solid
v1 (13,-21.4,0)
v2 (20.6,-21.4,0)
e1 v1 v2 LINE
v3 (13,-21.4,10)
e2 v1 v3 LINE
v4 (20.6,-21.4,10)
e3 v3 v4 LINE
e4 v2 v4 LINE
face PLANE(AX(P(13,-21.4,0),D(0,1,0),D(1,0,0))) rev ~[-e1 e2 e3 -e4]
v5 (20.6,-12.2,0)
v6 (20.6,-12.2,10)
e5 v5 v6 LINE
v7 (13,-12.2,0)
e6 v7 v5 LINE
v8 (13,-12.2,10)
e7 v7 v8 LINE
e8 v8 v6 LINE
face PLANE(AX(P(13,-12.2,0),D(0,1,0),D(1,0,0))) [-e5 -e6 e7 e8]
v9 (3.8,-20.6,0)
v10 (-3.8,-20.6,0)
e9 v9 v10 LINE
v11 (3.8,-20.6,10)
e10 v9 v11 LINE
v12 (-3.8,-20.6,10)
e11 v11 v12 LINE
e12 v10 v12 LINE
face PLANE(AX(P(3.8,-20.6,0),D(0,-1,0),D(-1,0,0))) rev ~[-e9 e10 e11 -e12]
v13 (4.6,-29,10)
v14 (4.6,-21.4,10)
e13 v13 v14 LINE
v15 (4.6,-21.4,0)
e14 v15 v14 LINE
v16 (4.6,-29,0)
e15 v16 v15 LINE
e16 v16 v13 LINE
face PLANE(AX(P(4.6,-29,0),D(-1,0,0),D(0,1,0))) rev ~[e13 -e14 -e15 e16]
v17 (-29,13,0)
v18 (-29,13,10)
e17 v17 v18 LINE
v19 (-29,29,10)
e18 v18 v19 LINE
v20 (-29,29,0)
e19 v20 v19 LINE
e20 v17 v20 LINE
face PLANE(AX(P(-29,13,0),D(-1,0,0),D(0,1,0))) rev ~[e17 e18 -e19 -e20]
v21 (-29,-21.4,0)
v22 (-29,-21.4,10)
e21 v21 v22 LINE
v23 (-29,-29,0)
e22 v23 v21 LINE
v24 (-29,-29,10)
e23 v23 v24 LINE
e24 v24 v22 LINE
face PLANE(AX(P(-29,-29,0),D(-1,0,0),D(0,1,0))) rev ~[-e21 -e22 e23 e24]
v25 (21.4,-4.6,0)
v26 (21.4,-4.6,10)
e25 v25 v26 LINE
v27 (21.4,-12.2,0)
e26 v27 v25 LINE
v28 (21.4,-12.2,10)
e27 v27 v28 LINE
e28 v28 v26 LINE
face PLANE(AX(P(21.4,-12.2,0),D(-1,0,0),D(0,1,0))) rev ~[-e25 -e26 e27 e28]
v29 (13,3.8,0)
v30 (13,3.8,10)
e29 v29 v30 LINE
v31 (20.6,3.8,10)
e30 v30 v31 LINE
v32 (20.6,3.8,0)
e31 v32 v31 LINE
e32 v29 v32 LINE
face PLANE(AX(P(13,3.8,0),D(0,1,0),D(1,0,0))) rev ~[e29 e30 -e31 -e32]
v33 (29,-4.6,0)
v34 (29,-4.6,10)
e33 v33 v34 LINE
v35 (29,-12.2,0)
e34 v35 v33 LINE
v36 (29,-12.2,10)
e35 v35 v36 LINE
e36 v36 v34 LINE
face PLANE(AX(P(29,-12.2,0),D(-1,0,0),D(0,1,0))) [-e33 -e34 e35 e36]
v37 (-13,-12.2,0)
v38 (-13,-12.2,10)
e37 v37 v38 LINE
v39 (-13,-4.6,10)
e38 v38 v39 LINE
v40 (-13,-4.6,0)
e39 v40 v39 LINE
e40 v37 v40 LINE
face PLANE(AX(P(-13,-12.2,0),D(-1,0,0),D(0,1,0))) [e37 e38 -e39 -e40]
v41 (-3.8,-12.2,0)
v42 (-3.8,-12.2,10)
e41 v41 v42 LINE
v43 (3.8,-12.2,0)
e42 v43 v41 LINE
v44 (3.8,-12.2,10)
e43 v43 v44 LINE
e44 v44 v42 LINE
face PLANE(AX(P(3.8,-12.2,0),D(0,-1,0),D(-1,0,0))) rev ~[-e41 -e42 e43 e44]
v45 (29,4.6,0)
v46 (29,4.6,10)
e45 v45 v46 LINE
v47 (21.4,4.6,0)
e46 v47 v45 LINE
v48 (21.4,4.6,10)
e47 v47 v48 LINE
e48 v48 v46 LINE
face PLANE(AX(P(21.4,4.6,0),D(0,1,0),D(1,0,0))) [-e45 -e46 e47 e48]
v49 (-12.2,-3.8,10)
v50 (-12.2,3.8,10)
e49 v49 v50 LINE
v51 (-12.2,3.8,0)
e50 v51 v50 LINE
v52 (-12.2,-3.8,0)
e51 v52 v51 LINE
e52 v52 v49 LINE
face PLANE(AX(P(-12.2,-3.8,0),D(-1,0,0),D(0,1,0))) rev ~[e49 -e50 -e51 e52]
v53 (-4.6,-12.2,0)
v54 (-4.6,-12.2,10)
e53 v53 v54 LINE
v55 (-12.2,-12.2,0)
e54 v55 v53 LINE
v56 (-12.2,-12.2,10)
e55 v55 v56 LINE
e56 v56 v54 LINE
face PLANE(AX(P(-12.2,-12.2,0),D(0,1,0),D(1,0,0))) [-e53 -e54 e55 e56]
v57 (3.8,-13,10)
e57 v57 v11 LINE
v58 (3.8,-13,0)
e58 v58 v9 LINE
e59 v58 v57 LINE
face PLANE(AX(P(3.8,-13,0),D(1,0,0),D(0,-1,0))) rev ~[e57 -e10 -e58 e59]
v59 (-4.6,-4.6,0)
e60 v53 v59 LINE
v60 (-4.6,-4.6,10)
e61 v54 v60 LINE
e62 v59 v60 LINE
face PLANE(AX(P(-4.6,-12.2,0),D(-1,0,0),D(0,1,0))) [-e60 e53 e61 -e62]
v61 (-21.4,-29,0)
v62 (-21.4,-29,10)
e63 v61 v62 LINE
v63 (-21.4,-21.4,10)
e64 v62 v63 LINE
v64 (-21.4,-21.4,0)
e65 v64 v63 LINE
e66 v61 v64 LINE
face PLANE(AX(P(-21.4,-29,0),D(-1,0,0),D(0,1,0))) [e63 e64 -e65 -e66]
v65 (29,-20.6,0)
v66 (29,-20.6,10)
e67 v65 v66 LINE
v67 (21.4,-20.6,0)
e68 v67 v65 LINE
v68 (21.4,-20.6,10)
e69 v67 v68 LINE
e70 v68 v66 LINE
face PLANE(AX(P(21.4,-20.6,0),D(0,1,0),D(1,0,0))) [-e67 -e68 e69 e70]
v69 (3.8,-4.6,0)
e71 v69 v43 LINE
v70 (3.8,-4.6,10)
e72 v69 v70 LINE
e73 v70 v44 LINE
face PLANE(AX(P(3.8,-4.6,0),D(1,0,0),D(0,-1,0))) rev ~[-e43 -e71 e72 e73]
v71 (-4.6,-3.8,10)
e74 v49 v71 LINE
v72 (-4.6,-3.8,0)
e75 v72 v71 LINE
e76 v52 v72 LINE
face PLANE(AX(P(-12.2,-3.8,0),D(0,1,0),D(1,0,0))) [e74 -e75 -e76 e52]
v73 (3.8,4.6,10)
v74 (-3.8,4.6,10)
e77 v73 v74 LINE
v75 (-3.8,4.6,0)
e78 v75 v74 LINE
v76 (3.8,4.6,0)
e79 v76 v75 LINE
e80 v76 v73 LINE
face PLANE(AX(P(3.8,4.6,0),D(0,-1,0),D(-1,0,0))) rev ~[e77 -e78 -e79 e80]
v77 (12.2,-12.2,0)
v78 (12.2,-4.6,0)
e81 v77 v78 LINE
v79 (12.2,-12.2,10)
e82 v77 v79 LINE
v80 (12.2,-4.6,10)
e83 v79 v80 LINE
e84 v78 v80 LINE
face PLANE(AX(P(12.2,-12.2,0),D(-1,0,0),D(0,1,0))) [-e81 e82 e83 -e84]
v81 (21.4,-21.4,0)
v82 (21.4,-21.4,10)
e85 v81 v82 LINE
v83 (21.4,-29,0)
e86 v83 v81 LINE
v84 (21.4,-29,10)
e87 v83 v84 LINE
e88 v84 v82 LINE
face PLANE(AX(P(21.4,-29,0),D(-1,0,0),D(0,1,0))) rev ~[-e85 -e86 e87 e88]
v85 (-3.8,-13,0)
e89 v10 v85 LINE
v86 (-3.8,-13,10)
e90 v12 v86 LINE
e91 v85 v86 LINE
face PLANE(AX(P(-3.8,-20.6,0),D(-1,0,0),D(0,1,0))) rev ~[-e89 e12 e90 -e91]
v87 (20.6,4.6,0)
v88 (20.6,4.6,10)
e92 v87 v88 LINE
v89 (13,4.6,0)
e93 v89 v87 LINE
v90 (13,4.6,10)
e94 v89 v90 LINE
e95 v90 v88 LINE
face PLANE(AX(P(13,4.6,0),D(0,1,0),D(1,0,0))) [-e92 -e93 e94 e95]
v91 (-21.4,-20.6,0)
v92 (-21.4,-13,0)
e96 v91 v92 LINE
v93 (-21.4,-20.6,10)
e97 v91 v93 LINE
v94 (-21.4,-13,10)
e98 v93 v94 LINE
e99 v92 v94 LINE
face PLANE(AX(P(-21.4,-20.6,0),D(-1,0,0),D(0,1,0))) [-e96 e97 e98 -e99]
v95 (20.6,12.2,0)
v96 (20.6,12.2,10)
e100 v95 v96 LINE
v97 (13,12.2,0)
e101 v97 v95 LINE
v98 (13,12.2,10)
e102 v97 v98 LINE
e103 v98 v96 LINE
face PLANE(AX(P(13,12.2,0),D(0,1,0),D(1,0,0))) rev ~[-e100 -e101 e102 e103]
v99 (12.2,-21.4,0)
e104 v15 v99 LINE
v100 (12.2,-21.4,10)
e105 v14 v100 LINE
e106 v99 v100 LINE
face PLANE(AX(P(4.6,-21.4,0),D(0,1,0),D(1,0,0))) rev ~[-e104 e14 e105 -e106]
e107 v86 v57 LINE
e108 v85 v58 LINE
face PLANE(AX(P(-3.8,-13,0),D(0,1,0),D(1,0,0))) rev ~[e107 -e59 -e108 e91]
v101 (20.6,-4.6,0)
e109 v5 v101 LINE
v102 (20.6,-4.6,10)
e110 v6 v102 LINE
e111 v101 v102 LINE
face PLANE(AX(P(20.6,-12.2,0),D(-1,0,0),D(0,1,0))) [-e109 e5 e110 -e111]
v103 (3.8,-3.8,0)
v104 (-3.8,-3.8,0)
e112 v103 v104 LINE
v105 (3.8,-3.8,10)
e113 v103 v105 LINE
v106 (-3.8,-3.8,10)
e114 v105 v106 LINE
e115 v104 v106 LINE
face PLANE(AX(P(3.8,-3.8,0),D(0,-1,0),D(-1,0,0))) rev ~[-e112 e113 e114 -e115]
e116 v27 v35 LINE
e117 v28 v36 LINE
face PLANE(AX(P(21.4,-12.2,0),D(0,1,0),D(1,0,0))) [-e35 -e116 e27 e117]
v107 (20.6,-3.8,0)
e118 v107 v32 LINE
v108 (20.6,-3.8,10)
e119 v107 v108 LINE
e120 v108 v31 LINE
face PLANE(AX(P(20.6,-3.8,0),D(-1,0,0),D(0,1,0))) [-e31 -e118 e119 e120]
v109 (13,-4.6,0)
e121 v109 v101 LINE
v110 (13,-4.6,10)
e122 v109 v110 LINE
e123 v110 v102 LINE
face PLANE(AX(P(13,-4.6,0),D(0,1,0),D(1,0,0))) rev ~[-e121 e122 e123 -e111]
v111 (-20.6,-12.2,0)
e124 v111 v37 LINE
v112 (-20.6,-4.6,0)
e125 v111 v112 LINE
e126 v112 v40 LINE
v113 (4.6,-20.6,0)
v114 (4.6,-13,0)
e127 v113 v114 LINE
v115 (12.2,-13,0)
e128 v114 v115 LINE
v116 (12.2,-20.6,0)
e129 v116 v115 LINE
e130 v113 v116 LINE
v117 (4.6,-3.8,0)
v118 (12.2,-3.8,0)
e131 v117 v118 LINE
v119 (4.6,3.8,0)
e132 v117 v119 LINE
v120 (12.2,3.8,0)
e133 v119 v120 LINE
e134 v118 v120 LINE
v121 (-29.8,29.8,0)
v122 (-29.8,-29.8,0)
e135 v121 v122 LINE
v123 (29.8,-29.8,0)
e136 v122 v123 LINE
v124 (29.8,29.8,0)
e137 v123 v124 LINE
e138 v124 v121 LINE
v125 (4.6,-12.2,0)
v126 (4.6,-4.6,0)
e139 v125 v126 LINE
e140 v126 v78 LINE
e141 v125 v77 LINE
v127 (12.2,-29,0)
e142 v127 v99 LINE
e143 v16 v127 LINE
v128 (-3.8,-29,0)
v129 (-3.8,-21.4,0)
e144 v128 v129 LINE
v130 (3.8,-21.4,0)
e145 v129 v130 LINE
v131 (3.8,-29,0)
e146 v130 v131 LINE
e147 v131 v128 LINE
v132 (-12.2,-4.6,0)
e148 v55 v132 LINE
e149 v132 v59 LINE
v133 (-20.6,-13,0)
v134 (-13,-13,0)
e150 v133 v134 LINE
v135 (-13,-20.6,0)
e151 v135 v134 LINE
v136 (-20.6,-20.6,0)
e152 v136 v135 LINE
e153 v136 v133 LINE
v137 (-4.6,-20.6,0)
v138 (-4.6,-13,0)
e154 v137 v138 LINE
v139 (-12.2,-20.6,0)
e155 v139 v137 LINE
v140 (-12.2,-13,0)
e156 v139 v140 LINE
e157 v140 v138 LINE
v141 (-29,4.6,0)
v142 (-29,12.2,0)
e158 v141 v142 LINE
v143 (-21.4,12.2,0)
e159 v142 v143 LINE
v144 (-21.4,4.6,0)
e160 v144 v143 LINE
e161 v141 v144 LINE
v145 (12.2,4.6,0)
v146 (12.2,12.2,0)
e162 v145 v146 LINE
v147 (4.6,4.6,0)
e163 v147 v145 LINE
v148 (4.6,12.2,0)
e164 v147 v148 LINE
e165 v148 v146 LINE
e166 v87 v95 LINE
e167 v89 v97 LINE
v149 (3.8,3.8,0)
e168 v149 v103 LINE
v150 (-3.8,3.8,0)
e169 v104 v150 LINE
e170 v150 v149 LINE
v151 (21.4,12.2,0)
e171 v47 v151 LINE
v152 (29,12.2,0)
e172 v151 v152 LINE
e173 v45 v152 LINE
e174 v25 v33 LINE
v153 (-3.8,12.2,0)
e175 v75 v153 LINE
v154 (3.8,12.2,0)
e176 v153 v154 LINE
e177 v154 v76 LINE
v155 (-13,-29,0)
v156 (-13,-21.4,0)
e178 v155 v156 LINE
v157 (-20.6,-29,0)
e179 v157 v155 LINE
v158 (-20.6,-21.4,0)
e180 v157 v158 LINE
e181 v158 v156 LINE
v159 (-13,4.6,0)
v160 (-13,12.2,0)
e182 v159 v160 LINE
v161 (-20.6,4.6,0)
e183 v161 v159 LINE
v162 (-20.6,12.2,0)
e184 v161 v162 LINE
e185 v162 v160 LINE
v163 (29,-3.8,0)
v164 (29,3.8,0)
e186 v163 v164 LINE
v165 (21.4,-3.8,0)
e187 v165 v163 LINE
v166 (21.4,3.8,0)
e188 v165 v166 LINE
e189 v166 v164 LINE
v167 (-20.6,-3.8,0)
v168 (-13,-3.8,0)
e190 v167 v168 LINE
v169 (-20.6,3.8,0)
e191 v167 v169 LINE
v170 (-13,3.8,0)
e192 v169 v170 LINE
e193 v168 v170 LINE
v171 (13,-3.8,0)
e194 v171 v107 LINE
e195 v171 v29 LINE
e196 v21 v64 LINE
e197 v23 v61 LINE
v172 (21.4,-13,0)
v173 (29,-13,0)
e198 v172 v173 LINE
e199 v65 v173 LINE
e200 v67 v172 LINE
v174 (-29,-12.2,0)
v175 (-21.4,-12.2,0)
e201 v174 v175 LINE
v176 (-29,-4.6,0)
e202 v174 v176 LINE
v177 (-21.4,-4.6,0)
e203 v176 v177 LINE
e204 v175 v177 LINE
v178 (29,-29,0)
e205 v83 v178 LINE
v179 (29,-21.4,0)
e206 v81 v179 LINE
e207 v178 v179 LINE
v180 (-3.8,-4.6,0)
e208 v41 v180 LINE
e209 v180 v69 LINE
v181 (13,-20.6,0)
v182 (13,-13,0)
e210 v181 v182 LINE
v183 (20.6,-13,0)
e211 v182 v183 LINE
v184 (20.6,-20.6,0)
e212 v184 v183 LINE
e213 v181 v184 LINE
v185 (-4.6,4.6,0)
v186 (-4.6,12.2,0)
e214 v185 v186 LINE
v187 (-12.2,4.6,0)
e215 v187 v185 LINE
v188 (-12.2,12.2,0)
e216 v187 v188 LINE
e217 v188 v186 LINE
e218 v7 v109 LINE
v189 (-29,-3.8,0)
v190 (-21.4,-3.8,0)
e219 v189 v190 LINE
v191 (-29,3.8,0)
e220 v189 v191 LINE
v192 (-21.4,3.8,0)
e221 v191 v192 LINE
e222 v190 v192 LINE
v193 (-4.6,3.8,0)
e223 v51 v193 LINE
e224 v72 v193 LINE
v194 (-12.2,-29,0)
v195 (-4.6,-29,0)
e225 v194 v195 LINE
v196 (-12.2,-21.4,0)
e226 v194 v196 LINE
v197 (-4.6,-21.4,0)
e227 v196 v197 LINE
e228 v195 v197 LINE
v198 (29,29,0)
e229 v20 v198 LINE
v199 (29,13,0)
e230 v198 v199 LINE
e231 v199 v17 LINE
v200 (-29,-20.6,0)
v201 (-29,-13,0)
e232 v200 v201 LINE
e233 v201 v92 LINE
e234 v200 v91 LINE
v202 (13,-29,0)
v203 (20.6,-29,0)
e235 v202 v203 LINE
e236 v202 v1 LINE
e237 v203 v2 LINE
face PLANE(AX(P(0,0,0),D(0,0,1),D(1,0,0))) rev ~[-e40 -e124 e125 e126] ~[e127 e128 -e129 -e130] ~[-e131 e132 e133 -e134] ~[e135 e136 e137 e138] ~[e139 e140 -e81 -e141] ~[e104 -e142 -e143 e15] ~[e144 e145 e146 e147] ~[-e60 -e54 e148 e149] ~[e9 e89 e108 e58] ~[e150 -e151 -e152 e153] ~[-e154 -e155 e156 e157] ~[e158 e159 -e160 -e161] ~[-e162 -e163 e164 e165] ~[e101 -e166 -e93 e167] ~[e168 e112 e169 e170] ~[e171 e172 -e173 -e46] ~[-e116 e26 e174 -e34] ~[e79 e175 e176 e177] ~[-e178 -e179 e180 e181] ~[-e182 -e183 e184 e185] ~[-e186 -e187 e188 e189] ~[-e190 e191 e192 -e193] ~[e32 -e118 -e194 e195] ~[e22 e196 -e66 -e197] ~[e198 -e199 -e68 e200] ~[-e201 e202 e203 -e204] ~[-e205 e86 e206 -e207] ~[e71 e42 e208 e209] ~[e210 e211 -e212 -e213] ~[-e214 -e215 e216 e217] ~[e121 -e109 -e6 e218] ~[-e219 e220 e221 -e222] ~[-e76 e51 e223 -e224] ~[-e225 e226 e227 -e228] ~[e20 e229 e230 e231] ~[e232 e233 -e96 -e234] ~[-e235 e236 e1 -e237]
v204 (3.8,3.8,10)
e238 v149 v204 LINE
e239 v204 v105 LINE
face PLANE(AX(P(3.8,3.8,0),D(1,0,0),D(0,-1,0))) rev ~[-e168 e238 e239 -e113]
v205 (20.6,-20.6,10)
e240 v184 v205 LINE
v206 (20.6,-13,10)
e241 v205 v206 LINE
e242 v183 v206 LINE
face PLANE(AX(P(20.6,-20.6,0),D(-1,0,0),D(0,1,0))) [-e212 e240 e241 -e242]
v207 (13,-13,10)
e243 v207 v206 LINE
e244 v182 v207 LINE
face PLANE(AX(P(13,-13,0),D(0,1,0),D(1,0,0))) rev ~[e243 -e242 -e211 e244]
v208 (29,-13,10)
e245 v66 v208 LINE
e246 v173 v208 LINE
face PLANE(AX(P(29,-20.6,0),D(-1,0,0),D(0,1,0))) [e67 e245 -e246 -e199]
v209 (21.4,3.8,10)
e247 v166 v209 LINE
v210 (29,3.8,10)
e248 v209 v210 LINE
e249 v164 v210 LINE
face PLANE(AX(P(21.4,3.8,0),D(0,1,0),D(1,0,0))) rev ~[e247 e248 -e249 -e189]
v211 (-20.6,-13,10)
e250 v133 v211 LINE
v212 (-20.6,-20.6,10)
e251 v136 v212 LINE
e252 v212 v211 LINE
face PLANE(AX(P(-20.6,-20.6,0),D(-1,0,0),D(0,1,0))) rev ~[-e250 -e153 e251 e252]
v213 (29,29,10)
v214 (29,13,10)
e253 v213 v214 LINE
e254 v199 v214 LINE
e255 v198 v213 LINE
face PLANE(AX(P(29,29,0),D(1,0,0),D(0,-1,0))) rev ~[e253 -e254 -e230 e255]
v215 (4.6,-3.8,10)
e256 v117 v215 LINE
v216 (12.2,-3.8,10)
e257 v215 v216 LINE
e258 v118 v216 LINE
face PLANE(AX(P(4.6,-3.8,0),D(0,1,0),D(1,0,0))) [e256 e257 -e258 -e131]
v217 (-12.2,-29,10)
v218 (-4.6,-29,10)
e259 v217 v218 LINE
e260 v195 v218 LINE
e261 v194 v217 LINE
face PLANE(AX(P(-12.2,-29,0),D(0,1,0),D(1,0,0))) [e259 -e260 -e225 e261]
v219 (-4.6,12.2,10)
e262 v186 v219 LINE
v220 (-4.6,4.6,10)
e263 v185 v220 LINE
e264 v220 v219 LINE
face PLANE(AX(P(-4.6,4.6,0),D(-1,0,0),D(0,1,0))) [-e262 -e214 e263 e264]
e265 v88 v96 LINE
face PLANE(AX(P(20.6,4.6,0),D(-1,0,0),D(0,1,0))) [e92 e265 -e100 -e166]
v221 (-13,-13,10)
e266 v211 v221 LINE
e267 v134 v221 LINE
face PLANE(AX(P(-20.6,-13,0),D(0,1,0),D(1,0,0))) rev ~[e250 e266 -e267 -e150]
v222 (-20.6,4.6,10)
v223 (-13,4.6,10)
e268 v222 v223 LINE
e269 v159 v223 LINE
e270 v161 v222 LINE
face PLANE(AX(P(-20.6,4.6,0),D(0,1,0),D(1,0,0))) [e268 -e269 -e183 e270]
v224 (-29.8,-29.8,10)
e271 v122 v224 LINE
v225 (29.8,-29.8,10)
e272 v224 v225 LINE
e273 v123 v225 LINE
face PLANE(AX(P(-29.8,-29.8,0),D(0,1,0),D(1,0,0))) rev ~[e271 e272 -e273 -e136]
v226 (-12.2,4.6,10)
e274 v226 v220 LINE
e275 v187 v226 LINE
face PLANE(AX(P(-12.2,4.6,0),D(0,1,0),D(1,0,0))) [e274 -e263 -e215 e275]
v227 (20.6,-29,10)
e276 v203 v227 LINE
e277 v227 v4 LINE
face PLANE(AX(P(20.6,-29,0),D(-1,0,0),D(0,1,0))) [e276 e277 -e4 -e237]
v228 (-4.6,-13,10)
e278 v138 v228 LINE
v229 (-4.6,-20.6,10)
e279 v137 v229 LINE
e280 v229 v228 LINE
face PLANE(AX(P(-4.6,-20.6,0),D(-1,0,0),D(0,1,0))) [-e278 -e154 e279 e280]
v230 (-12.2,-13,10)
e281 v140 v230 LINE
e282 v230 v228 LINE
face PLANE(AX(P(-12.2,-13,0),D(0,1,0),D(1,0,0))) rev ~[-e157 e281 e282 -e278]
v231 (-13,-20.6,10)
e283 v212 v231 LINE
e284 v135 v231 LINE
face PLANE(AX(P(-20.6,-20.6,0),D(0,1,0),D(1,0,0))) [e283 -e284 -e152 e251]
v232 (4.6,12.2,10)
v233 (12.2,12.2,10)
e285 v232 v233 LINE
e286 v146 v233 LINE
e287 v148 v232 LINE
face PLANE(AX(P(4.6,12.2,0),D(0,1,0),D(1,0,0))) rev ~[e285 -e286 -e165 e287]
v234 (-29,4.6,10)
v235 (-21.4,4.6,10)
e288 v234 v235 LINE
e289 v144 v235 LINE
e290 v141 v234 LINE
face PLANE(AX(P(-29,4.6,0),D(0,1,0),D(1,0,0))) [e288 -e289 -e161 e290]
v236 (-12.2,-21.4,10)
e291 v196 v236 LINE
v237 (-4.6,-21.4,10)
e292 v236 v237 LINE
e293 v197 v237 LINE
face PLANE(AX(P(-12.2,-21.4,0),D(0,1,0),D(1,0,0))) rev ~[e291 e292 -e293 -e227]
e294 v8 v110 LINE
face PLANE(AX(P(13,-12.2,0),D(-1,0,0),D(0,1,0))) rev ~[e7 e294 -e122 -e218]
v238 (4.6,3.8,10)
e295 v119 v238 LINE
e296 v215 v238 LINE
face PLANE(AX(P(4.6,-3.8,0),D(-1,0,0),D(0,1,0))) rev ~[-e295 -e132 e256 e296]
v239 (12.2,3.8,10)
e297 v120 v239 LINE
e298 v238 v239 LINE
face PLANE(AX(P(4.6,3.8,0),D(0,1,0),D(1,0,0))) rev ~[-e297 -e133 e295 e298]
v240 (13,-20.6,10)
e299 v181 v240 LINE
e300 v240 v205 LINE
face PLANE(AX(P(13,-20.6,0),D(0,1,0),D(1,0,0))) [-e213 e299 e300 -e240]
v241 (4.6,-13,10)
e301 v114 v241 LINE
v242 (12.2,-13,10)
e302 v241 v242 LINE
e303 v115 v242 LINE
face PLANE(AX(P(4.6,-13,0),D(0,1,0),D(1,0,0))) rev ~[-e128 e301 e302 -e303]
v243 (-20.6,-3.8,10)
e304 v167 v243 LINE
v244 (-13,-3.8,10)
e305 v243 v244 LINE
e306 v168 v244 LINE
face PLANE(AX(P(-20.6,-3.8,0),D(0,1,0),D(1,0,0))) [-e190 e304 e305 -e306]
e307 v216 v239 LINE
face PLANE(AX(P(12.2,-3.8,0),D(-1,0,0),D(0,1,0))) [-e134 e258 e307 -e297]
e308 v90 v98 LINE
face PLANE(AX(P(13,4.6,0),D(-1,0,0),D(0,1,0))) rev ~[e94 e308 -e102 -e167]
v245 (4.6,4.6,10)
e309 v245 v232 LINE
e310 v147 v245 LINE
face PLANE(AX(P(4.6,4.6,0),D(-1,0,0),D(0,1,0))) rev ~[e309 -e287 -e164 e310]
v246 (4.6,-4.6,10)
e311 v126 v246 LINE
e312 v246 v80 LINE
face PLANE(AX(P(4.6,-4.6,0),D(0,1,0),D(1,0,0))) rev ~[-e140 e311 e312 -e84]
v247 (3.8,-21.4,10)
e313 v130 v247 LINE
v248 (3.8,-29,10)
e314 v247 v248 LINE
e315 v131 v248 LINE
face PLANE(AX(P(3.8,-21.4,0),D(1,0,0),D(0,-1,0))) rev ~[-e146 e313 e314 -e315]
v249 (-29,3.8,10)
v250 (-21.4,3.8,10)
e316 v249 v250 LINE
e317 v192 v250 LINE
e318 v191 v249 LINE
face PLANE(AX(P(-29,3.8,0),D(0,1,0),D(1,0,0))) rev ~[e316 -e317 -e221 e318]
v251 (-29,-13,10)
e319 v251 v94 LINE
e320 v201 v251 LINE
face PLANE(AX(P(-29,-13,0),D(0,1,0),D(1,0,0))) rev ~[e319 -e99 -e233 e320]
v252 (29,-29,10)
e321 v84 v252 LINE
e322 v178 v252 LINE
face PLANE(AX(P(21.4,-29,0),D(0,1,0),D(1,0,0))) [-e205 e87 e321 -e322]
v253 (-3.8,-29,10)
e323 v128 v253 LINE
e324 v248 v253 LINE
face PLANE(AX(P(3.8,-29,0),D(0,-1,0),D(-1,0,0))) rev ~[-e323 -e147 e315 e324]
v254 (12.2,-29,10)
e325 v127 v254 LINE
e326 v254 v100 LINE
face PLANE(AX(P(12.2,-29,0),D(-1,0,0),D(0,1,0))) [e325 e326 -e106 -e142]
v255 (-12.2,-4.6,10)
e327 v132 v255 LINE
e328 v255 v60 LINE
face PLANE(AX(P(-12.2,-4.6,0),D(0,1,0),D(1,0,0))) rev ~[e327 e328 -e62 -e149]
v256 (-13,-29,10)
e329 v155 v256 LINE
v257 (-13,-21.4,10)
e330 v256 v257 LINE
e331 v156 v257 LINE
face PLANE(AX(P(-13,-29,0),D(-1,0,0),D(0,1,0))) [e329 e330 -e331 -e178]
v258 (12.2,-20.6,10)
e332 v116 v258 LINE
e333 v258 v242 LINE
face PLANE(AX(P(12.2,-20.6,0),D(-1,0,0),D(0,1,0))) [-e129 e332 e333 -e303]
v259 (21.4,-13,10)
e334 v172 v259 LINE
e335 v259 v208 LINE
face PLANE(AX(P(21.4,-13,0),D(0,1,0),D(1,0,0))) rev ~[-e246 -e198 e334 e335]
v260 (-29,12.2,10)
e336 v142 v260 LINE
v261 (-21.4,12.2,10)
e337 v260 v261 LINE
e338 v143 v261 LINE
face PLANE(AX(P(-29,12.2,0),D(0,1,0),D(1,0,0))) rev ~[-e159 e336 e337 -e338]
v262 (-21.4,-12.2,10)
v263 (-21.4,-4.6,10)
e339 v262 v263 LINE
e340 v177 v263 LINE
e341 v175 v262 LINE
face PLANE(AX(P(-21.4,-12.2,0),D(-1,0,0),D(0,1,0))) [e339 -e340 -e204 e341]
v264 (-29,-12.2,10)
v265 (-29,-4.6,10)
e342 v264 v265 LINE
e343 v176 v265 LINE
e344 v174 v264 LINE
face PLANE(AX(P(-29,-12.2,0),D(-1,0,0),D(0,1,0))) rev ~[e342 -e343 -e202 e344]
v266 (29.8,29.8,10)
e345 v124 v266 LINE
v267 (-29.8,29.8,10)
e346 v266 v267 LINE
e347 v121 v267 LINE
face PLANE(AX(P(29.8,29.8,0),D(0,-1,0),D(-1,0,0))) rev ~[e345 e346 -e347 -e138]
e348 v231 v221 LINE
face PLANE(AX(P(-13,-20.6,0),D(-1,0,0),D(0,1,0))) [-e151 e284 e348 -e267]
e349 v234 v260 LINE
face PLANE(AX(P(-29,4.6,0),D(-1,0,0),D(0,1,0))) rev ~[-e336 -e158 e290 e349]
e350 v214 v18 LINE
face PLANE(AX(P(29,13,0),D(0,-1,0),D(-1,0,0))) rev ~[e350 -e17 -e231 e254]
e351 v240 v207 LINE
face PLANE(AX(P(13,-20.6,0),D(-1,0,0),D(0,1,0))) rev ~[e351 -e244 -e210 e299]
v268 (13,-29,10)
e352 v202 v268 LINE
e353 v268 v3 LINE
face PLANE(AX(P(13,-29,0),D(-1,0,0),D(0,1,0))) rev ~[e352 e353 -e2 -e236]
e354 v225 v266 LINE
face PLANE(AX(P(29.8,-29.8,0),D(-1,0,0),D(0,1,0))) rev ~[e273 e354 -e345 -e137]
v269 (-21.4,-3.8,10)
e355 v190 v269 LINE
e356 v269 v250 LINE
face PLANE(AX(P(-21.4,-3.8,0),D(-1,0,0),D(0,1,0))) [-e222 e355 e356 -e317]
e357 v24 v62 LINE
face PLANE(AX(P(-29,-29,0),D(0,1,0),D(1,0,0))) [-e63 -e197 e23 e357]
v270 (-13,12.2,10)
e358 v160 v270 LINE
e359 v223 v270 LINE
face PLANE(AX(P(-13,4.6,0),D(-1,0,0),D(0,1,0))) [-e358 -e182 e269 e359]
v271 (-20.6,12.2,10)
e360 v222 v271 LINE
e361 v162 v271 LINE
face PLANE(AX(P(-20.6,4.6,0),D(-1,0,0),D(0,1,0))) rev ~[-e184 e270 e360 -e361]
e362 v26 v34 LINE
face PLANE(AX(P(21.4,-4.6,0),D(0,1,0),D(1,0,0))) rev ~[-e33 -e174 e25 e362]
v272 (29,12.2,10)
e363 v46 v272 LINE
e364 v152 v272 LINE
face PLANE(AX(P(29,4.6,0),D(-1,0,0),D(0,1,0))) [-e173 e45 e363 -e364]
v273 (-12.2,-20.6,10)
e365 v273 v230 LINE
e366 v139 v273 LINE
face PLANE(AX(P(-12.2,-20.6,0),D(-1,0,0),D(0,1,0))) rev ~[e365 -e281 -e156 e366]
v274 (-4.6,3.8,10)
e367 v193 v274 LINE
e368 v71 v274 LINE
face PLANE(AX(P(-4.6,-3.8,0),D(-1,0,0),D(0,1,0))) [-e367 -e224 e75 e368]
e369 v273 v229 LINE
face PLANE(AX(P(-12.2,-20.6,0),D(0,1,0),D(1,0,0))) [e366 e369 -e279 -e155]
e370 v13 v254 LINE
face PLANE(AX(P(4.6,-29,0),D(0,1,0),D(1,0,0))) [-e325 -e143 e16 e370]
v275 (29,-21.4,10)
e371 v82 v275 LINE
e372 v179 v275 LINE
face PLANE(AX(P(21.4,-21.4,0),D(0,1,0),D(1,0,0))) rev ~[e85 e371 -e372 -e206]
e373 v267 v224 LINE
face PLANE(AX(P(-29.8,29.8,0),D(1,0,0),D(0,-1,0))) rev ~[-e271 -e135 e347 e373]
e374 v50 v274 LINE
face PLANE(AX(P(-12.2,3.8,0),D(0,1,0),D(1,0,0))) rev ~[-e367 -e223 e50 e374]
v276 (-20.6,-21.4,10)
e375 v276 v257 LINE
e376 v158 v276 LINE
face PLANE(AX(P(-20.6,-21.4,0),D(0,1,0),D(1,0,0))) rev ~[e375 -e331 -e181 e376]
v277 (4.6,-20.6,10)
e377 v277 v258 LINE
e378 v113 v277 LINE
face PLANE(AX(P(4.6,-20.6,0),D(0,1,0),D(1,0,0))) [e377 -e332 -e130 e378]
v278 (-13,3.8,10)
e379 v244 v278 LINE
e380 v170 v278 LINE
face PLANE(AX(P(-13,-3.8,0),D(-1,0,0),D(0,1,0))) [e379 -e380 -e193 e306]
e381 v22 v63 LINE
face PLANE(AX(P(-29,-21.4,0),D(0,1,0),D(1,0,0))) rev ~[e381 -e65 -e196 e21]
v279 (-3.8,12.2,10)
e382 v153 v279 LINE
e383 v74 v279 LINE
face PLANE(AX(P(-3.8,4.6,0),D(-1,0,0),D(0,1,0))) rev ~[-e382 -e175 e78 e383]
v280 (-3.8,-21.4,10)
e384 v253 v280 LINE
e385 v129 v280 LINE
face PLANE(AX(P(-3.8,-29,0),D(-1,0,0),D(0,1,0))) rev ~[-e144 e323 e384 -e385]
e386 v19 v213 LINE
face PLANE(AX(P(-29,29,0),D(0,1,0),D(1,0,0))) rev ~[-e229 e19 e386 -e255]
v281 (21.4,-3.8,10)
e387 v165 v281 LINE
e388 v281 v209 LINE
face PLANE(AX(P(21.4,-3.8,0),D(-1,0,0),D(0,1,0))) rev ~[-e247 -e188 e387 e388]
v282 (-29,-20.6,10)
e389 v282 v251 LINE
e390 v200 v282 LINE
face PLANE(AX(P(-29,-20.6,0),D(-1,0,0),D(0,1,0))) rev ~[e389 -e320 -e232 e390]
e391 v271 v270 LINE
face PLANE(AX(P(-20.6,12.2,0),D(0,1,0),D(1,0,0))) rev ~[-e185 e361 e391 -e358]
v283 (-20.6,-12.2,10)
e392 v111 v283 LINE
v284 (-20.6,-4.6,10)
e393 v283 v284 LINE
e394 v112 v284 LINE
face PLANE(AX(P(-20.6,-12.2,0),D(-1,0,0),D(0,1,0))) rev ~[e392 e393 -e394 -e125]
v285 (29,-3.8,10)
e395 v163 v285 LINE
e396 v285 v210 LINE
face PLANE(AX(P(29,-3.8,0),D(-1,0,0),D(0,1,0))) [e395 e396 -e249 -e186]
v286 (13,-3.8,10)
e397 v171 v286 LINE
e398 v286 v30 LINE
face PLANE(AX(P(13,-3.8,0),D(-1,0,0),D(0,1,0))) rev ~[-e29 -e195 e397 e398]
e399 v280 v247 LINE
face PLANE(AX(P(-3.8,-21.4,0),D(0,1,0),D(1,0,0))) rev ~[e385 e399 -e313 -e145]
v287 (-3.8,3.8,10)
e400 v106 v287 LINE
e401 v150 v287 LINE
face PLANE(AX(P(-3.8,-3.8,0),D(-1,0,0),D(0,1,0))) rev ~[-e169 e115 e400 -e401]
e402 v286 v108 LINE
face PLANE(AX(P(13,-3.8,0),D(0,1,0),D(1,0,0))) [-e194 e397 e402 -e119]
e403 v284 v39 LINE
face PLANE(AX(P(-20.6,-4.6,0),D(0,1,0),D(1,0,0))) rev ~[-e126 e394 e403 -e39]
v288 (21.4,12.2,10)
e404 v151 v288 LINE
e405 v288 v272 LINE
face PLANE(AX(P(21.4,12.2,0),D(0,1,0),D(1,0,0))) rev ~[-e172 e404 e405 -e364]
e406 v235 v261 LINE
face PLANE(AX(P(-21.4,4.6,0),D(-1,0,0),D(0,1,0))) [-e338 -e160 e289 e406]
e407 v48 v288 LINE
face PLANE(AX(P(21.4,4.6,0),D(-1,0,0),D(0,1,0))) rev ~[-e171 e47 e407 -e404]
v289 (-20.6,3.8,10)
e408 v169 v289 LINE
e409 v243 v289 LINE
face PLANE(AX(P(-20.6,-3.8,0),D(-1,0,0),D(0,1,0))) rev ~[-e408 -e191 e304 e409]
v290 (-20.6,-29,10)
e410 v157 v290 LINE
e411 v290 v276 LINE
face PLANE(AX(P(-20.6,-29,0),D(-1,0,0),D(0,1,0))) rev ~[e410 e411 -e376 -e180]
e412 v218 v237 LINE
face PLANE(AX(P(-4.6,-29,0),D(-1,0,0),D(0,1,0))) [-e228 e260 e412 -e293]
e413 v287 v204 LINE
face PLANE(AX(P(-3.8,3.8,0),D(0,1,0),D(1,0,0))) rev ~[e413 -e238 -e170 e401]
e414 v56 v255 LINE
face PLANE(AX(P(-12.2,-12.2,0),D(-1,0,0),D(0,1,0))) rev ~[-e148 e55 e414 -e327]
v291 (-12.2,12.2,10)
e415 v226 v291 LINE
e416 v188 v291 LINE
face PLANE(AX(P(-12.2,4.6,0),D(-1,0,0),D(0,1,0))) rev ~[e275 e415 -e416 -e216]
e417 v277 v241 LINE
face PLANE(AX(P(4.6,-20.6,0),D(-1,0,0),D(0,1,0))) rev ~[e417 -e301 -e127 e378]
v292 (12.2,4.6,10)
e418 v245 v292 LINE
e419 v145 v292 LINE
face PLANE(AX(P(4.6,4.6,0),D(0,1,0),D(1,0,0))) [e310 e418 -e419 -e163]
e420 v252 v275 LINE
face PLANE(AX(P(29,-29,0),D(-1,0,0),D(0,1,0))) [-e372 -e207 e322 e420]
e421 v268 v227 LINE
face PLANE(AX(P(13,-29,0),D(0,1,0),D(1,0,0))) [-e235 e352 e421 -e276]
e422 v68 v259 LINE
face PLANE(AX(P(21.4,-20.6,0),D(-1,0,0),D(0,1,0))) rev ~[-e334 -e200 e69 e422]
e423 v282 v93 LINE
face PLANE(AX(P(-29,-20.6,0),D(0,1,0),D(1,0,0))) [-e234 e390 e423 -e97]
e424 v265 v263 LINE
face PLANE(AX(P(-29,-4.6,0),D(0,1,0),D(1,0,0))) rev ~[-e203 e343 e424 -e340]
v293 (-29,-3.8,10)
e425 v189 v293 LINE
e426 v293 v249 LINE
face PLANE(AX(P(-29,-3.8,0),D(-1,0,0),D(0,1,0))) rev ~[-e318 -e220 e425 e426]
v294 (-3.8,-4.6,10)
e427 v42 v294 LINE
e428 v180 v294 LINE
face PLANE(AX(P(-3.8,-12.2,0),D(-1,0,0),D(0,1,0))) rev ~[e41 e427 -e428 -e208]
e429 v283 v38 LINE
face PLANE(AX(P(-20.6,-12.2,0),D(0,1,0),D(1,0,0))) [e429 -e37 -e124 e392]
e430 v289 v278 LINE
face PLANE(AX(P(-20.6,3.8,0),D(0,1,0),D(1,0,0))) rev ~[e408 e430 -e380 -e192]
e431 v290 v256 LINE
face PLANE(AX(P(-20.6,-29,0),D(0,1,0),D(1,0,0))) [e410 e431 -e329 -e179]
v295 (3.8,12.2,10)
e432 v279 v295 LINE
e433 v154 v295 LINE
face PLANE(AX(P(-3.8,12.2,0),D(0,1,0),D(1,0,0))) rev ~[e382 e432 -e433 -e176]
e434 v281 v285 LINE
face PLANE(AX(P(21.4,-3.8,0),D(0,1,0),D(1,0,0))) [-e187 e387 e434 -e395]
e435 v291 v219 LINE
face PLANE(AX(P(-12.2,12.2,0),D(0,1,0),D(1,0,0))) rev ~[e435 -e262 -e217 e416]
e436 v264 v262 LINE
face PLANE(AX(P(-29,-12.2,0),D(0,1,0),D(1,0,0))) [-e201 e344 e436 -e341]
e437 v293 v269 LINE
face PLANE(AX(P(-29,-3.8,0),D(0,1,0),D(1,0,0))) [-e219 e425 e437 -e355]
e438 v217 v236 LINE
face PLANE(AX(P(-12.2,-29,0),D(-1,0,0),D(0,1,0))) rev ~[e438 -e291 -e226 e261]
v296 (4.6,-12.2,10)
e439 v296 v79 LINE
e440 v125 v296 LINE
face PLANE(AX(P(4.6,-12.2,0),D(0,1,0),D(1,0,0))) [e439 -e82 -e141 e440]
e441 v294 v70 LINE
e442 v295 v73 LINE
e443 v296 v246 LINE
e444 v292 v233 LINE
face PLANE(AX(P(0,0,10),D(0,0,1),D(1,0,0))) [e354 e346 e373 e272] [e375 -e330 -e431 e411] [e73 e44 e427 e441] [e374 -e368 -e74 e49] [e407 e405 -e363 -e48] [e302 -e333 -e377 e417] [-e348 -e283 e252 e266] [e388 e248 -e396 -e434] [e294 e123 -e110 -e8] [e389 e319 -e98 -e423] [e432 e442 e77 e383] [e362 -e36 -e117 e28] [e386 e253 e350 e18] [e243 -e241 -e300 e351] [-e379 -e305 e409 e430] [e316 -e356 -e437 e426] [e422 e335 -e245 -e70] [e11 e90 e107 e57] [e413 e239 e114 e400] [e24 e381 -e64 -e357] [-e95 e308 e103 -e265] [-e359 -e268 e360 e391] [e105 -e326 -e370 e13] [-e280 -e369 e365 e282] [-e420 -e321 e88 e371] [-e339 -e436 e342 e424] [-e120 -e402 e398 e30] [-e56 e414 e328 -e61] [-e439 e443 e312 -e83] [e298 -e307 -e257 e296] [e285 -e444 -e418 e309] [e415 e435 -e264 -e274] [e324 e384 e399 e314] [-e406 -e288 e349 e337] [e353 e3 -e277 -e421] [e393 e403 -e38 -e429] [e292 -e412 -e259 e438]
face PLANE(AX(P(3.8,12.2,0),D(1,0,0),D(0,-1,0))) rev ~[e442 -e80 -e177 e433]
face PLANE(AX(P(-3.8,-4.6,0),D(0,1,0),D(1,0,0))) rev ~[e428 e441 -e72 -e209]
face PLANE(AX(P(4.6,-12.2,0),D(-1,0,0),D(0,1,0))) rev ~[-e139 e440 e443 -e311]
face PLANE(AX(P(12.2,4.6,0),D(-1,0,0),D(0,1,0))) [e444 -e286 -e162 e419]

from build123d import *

# Parameters (mm, degrees)
F0_W     = 7.6
F0_H     = 7.6
F1_DEPTH = 10


with BuildPart() as f1:
    # F0 (on Top) → F1 (new body)
    with BuildSketch(Plane.XY):
        Polygon((29.8, 29.8), (0, 29.8), (-29.8, 29.8), (-29.8, 0), (-29.8, -29.8), (0, -29.8), (29.8, -29.8), (29.8, 0), align=None)
        with Locations((-25.2, -25.2)):
            Rectangle(F0_W, F0_H, mode=Mode.SUBTRACT)
        with Locations((-16.8, -25.2)):
            Rectangle(F0_W, F0_H, mode=Mode.SUBTRACT)
        with Locations((-25.2, -16.8)):
            Rectangle(F0_W, F0_H, mode=Mode.SUBTRACT)
        with Locations((-16.8, -16.8)):
            Rectangle(F0_W, F0_H, mode=Mode.SUBTRACT)
        with Locations((-8.4, -25.2)):
            Rectangle(F0_W, F0_H, mode=Mode.SUBTRACT)
        with Locations((-8.4, -16.8)):
            Rectangle(F0_W, F0_H, mode=Mode.SUBTRACT)
        with Locations((-25.2, -8.4)):
            Rectangle(F0_W, F0_H, mode=Mode.SUBTRACT)
        with Locations((-16.8, -8.4)):
            Rectangle(F0_W, F0_H, mode=Mode.SUBTRACT)
        with Locations((-8.4, -8.4)):
            Rectangle(F0_W, F0_H, mode=Mode.SUBTRACT)
        Polygon((0, -29), (-3.8, -29), (-3.8, -21.4), (0, -21.4), (3.8, -21.4), (3.8, -29), align=None, mode=Mode.SUBTRACT)
        with Locations((8.4, -25.2)):
            Rectangle(F0_W, F0_H, mode=Mode.SUBTRACT)
        Polygon((0, -20.6), (-3.8, -20.6), (-3.8, -13), (0, -13), (3.8, -13), (3.8, -20.6), align=None, mode=Mode.SUBTRACT)
        with Locations((8.4, -16.8)):
            Rectangle(F0_W, F0_H, mode=Mode.SUBTRACT)
        with Locations((16.8, -25.2)):
            Rectangle(F0_W, F0_H, mode=Mode.SUBTRACT)
        with Locations((25.2, -25.2)):
            Rectangle(F0_W, F0_H, mode=Mode.SUBTRACT)
        with Locations((16.8, -16.8)):
            Rectangle(F0_W, F0_H, mode=Mode.SUBTRACT)
        with Locations((25.2, -16.8)):
            Rectangle(F0_W, F0_H, mode=Mode.SUBTRACT)
        Polygon((0, -12.2), (-3.8, -12.2), (-3.8, -4.6), (0, -4.6), (3.8, -4.6), (3.8, -12.2), align=None, mode=Mode.SUBTRACT)
        with Locations((8.4, -8.4)):
            Rectangle(F0_W, F0_H, mode=Mode.SUBTRACT)
        with Locations((16.8, -8.4)):
            Rectangle(F0_W, F0_H, mode=Mode.SUBTRACT)
        with Locations((25.2, -8.4)):
            Rectangle(F0_W, F0_H, mode=Mode.SUBTRACT)
        with Locations((-25.2, 0)):
            Rectangle(F0_W, F0_H, mode=Mode.SUBTRACT)
        with Locations((-16.8, 0)):
            Rectangle(F0_W, F0_H, mode=Mode.SUBTRACT)
        with Locations((-25.2, 8.4)):
            Rectangle(F0_W, F0_H, mode=Mode.SUBTRACT)
        with Locations((-16.8, 8.4)):
            Rectangle(F0_W, F0_H, mode=Mode.SUBTRACT)
        with Locations((-8.4, 0)):
            Rectangle(F0_W, F0_H, mode=Mode.SUBTRACT)
        with Locations((-8.4, 8.4)):
            Rectangle(F0_W, F0_H, mode=Mode.SUBTRACT)
        Polygon((0, -3.8), (-3.8, -3.8), (-3.8, 3.8), (0, 3.8), (3.8, 3.8), (3.8, -3.8), align=None, mode=Mode.SUBTRACT)
        with Locations((8.4, 0)):
            Rectangle(F0_W, F0_H, mode=Mode.SUBTRACT)
        Polygon((-3.8, 4.6), (-3.8, 12.2), (0, 12.2), (3.8, 12.2), (3.8, 4.6), (0, 4.6), align=None, mode=Mode.SUBTRACT)
        with Locations((8.4, 8.4)):
            Rectangle(F0_W, F0_H, mode=Mode.SUBTRACT)
        with Locations((16.8, 0)):
            Rectangle(F0_W, F0_H, mode=Mode.SUBTRACT)
        with Locations((25.2, 0)):
            Rectangle(F0_W, F0_H, mode=Mode.SUBTRACT)
        with Locations((16.8, 8.4)):
            Rectangle(F0_W, F0_H, mode=Mode.SUBTRACT)
        with Locations((25.2, 8.4)):
            Rectangle(F0_W, F0_H, mode=Mode.SUBTRACT)
        Polygon((0, 13), (-29, 13), (-29, 29), (0, 29), (29, 29), (29, 13), align=None, mode=Mode.SUBTRACT)
    extrude(amount=F1_DEPTH)


solid = f1.part
